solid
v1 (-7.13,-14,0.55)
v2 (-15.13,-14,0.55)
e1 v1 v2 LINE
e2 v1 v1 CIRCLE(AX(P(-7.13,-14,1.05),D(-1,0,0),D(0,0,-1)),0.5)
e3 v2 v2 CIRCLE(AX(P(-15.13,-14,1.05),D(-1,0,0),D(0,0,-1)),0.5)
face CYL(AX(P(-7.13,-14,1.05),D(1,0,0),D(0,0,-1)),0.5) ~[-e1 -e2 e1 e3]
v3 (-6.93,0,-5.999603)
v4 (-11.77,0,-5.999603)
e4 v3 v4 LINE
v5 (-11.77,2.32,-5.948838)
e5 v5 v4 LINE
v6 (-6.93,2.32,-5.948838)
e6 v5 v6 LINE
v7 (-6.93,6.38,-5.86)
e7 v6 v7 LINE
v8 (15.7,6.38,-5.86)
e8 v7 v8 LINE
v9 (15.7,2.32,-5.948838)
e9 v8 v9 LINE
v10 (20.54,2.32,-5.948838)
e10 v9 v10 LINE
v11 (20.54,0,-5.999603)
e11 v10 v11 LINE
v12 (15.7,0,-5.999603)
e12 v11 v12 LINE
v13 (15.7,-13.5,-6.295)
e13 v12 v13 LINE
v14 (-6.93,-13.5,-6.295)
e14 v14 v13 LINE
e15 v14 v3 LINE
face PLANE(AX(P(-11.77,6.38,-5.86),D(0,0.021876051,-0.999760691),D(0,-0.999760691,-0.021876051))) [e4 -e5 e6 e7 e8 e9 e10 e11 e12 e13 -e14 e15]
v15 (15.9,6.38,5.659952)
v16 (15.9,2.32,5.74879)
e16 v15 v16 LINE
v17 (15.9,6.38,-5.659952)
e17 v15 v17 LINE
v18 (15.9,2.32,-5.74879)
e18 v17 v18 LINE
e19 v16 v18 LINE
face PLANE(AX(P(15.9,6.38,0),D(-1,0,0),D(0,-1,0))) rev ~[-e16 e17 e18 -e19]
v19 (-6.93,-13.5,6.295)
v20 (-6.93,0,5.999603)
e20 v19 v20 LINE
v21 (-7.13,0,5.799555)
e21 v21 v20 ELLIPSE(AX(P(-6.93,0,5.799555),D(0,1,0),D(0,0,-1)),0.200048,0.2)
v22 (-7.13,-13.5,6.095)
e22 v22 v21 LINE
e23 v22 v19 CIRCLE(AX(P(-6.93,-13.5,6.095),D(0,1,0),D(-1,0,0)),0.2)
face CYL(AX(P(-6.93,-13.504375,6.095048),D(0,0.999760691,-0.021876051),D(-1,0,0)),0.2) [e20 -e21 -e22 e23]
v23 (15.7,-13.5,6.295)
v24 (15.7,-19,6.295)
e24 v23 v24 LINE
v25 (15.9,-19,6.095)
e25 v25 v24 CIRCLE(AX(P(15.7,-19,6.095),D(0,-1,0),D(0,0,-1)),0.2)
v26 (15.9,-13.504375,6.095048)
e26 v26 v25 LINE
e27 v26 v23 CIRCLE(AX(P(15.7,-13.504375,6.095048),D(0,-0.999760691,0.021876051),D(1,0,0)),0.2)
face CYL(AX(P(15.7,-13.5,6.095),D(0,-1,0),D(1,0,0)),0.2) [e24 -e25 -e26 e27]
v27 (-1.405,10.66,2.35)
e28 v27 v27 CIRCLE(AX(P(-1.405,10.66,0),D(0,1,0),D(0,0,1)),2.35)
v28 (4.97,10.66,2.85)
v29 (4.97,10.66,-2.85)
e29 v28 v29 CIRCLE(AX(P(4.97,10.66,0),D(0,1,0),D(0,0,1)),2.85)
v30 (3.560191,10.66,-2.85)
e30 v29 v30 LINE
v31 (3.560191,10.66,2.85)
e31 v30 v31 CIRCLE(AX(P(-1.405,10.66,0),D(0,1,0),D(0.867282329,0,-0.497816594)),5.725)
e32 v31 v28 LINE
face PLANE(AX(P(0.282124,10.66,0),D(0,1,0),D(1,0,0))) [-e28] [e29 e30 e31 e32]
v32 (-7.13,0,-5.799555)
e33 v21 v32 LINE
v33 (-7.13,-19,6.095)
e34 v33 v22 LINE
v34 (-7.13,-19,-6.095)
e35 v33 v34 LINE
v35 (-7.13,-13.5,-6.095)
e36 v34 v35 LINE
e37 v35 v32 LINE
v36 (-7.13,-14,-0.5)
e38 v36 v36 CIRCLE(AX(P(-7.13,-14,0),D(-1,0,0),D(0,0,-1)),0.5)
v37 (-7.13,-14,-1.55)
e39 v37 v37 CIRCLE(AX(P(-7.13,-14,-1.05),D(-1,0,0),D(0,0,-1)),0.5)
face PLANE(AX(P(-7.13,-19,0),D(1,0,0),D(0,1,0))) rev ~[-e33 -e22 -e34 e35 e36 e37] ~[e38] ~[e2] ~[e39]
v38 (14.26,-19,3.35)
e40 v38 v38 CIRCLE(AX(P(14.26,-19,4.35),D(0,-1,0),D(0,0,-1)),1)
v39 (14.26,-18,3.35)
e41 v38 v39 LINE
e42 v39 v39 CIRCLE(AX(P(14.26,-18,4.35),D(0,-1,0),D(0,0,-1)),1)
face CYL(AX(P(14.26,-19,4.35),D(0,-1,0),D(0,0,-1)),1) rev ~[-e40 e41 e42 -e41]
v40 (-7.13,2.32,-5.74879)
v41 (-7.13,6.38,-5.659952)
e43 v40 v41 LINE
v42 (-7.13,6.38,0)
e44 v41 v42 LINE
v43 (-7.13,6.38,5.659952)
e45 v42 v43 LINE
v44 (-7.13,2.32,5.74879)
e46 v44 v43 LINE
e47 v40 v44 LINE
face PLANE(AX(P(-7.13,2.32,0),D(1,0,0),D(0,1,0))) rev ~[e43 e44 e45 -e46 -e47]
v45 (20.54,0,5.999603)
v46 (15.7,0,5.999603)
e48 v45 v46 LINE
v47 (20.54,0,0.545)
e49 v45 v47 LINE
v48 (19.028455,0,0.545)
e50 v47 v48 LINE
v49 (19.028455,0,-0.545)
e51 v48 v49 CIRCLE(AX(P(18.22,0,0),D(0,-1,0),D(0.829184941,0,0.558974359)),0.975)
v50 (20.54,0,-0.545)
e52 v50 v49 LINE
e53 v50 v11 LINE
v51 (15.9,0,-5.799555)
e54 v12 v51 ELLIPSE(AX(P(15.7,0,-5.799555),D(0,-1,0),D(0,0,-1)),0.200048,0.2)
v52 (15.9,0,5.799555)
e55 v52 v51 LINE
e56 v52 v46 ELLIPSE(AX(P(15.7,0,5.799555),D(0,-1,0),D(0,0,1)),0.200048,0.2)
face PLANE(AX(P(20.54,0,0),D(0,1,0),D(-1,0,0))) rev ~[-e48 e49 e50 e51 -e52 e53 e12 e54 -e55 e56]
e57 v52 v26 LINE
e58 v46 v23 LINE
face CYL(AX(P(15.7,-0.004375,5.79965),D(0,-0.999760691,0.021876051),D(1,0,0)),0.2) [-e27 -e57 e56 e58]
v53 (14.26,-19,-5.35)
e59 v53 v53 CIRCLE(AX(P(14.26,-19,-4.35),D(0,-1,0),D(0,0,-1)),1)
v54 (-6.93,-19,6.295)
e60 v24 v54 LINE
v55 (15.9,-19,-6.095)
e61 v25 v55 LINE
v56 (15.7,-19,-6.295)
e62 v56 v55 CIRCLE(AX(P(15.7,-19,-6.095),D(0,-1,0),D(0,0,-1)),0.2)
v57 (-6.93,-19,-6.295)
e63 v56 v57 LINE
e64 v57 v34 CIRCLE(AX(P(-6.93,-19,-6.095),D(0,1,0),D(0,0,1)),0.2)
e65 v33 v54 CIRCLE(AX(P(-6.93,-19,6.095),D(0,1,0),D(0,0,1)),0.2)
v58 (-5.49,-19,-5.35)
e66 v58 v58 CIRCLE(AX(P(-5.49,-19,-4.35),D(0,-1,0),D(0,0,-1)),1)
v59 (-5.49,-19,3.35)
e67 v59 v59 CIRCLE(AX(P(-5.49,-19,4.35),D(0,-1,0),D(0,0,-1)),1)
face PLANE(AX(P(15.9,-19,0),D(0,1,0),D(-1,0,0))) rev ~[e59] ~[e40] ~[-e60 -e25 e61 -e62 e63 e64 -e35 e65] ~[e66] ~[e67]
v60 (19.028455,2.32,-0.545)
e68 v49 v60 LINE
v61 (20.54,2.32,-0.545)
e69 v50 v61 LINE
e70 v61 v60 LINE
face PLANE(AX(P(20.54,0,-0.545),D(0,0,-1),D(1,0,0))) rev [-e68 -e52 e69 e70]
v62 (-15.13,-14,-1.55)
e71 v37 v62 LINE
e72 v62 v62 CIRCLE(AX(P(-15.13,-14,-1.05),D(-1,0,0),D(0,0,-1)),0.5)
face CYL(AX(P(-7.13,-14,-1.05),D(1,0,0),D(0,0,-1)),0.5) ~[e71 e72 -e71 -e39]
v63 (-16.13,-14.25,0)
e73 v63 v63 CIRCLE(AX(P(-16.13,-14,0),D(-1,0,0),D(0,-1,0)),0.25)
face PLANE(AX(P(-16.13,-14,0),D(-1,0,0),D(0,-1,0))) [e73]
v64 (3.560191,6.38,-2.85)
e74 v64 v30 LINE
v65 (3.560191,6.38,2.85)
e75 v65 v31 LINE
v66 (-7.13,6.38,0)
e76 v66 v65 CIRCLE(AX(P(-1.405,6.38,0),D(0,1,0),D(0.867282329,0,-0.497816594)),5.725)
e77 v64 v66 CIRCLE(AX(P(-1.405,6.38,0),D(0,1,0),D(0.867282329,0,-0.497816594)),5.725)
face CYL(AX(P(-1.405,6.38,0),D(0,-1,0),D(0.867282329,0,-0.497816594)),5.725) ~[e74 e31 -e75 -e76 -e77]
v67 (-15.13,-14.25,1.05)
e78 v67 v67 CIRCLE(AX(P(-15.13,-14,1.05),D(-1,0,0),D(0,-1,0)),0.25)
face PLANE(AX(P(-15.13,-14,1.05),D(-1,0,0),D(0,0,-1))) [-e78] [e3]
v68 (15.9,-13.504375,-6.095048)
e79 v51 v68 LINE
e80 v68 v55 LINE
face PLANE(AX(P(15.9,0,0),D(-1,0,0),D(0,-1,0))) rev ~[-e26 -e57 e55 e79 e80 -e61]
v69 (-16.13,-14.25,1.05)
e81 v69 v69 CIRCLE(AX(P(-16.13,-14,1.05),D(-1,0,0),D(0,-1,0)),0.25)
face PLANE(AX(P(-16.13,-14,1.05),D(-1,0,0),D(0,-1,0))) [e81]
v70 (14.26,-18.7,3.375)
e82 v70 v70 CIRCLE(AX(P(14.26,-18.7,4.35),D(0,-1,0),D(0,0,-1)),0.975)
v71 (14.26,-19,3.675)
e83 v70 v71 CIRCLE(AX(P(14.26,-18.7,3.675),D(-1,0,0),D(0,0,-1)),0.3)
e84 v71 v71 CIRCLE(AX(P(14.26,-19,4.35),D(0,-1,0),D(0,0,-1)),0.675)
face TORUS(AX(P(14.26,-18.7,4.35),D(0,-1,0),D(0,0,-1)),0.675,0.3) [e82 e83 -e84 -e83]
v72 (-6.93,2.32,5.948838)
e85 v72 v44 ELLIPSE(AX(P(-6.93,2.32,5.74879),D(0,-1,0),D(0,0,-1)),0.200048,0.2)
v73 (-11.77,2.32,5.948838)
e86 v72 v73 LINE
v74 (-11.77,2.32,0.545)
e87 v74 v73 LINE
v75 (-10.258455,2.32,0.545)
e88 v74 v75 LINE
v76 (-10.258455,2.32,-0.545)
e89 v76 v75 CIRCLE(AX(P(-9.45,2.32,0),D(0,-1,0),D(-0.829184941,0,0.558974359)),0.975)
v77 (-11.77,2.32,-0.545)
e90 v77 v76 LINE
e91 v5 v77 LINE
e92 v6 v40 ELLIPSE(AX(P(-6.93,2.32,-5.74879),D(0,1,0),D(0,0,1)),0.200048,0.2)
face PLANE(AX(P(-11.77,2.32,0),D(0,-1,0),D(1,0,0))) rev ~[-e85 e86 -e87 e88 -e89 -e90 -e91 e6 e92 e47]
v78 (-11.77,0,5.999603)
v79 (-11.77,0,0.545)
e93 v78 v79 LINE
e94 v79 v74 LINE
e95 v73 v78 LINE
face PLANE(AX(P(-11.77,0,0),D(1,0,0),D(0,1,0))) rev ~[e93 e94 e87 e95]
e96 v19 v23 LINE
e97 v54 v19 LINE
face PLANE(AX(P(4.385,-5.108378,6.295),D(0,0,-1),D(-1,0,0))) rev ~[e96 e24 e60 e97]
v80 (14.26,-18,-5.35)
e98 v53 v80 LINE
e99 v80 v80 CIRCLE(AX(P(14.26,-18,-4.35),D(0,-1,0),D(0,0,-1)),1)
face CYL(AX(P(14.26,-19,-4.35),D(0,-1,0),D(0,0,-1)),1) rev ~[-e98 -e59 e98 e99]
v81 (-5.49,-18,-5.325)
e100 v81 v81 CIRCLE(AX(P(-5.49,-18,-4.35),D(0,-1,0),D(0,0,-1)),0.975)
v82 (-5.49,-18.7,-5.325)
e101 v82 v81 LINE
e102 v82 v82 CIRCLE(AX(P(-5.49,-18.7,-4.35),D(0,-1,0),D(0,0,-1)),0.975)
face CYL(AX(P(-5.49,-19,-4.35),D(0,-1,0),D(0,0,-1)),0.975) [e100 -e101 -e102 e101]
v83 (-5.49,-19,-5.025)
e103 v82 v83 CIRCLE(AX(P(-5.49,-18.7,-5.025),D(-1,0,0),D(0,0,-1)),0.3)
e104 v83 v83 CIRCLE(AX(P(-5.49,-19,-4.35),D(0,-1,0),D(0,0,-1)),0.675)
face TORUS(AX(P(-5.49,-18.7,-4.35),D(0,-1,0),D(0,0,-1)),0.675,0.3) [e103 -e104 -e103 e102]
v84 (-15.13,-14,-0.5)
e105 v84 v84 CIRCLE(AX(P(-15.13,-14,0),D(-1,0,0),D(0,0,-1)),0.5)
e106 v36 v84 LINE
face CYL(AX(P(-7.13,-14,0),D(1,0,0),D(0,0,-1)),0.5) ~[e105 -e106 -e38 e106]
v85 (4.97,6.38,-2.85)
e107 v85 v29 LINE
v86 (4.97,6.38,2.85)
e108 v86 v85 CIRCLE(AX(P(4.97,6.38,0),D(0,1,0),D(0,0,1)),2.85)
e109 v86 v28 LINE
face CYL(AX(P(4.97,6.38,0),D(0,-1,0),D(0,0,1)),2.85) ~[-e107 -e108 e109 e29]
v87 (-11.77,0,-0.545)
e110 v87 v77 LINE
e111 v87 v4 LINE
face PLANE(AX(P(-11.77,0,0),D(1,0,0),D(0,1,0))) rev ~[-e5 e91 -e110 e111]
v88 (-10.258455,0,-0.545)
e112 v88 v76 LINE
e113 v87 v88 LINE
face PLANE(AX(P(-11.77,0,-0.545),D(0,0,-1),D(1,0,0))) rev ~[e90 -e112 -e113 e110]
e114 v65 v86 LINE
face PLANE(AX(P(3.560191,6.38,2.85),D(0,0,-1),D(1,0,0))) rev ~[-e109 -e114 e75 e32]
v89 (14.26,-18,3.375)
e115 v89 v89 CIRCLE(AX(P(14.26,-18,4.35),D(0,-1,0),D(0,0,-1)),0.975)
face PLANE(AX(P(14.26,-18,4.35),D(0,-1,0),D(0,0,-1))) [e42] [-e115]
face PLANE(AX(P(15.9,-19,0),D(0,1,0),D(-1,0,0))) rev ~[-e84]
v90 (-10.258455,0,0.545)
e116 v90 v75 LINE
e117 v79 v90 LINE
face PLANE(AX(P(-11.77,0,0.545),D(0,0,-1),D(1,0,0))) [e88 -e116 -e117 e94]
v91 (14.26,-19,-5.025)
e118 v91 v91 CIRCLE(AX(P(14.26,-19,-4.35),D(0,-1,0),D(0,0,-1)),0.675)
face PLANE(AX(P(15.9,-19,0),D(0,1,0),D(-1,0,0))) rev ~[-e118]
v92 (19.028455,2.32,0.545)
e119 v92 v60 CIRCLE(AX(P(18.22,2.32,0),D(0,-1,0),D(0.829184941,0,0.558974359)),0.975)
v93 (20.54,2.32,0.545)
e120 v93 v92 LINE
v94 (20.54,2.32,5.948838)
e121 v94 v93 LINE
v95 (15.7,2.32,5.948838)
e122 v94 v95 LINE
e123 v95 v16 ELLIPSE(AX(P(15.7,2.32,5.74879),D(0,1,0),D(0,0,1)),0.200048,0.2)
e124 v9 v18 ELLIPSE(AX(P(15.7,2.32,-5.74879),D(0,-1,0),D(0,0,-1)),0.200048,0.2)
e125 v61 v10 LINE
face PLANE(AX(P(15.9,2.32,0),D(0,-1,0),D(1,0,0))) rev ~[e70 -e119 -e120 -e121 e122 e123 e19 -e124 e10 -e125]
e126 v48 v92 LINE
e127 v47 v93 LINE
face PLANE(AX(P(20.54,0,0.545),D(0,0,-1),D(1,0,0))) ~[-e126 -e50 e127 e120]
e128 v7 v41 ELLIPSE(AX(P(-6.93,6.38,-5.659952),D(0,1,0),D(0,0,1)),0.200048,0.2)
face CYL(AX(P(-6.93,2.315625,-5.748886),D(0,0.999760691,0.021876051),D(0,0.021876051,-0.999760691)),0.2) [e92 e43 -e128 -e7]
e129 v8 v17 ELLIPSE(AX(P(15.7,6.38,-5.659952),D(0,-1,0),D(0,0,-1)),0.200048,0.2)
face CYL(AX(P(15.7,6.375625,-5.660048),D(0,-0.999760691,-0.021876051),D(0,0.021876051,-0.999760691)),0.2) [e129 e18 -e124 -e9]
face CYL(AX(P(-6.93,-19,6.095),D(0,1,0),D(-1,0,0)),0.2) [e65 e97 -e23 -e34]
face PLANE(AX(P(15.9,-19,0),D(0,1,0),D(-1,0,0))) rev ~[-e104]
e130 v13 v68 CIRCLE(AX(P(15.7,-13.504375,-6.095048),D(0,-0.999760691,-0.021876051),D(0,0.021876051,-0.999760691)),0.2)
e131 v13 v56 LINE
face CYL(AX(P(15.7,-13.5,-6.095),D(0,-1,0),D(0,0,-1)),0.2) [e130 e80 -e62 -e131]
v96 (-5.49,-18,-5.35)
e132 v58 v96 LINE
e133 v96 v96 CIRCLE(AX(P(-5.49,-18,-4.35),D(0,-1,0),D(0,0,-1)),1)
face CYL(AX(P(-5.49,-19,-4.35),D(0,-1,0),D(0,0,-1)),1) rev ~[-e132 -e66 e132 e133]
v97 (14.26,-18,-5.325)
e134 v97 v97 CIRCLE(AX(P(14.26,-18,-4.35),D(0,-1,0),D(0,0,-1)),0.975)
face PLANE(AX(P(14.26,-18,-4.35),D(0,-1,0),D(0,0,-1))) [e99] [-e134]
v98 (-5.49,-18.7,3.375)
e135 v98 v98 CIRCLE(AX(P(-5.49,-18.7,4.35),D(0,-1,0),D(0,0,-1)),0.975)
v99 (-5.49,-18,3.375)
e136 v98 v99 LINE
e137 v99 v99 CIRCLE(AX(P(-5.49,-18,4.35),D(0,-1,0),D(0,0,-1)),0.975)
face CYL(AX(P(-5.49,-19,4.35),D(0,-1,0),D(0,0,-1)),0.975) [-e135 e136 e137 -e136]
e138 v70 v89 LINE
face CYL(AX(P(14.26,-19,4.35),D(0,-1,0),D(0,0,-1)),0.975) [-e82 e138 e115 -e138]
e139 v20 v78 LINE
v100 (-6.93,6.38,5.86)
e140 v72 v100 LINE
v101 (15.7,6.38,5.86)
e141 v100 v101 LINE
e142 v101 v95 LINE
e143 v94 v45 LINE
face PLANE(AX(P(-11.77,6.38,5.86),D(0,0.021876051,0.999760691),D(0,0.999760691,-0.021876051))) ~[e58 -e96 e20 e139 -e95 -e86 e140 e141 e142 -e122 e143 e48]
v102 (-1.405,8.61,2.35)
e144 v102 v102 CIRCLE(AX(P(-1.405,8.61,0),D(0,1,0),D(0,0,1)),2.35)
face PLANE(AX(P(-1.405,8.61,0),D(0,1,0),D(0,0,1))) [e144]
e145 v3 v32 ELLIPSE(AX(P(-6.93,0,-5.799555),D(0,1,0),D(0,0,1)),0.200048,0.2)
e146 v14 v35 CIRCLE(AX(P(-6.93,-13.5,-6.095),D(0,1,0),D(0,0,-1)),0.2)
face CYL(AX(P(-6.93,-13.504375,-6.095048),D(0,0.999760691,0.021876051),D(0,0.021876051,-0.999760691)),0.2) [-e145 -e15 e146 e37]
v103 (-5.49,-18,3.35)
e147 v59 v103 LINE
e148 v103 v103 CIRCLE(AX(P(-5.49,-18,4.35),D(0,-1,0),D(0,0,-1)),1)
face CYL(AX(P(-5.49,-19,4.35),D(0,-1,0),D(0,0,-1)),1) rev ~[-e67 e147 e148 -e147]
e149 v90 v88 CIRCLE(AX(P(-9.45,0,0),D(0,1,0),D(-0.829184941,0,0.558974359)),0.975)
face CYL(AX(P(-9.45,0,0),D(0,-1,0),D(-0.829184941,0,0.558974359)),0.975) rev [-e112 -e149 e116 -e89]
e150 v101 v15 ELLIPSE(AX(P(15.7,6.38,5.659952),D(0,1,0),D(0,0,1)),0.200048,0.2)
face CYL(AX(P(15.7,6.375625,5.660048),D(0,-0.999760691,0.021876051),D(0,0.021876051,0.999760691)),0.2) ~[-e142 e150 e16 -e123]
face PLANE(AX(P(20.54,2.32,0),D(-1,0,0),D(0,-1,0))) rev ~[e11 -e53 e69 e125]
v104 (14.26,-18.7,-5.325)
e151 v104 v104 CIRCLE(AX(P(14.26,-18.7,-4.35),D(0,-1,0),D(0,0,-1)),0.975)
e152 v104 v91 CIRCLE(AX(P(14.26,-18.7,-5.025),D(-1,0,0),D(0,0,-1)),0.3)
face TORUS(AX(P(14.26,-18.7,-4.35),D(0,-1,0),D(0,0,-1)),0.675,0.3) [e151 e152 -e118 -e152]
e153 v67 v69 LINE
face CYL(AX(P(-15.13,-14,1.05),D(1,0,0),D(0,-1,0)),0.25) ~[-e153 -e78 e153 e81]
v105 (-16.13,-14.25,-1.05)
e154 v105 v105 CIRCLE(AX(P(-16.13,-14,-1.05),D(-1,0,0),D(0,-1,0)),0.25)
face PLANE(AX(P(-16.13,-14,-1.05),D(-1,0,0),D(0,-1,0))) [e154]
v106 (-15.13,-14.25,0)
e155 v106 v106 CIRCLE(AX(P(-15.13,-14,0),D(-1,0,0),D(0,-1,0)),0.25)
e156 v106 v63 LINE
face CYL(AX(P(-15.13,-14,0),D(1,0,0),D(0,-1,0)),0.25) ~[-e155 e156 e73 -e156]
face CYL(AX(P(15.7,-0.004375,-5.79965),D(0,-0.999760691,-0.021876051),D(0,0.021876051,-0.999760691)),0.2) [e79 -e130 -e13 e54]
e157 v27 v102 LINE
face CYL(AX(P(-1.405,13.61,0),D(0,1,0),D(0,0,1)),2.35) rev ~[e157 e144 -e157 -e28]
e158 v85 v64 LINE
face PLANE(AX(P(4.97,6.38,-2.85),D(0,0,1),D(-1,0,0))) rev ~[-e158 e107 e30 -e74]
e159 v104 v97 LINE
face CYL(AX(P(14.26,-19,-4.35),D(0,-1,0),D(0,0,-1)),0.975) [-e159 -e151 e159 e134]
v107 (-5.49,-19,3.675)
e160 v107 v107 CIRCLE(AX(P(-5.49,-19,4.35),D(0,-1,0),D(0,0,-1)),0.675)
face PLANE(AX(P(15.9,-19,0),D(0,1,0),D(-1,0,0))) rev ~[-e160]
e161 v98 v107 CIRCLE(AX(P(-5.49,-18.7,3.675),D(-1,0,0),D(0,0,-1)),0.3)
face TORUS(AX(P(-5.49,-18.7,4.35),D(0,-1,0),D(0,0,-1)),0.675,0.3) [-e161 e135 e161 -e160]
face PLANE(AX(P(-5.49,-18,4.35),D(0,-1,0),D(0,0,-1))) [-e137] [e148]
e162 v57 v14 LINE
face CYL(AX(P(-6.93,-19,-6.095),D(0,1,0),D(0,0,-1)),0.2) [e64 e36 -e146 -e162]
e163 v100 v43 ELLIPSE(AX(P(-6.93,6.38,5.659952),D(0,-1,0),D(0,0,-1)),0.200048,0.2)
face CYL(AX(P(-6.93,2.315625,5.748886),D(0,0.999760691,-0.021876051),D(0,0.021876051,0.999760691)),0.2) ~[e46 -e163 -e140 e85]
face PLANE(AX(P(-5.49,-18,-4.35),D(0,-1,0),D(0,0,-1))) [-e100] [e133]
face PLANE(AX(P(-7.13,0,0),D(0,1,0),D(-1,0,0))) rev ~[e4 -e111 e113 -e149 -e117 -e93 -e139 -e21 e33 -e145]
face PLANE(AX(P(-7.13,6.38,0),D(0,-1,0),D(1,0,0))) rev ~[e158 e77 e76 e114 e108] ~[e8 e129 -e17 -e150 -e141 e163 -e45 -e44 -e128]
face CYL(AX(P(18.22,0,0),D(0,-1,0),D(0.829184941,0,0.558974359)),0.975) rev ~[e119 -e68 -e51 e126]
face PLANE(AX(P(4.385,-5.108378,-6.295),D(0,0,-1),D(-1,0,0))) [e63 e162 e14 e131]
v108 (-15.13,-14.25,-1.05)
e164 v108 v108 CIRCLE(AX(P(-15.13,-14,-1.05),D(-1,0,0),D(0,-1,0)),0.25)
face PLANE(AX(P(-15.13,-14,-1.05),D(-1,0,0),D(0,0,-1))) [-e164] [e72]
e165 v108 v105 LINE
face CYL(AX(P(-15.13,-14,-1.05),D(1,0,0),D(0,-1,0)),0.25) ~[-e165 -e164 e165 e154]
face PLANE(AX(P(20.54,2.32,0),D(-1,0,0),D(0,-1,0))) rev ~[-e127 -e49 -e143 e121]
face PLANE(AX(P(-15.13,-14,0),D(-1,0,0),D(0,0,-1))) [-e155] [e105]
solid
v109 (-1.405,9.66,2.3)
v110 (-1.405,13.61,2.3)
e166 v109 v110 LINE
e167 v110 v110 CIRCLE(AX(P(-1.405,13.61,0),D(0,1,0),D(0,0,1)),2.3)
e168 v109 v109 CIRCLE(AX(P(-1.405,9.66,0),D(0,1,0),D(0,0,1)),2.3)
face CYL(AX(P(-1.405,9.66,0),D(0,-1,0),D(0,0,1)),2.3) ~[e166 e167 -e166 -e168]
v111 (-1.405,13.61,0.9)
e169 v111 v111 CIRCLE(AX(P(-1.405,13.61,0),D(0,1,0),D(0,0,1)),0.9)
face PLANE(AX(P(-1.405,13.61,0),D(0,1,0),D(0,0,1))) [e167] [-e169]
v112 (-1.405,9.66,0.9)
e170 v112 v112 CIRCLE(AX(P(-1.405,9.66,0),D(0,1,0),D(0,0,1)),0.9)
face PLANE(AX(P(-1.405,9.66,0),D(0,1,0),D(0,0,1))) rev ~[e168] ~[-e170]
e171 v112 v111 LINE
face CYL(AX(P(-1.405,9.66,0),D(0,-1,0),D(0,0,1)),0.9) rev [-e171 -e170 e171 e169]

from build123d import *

# Parameters (mm, degrees)
BOSS_EXTRUDE1_DEPTH      = 6.295
BOSS_EXTRUDE2_DEPTH      = 4.28
CUT_EXTRUDE4_DEPTH       = 39.007408817
SKETCH4_R                = 0.975
SKETCH4_W                = 1.511544683
SKETCH4_H                = 1.09
CUT_EXTRUDE1_DEPTH       = 29.67958551
SKETCH5_R                = 1
SKETCH5_R_2              = 0.975
CUT_EXTRUDE2_DEPTH       = 1
SKETCH6_R                = 0.5
BOSS_EXTRUDE4_DEPTH      = 8
SKETCH7_R                = 0.25
BOSS_EXTRUDE5_DEPTH      = 1
FILLET1_R                = 0.3
FILLET3_R                = 0.2
BOSS_EXTRUDE6_DEPTH      = 2.95
BOSS_EXTRUDE6_DEPTH_BACK = 1
SKETCH12_R               = 2.3
SKETCH12_R_2             = 0.9
SKETCH13_R               = 2.35
CUT_EXTRUDE5_DEPTH       = 5


with BuildPart() as part:
    # Sketch1 → Boss-Extrude1 (new, symmetric)
    with BuildSketch(Plane.XY):
        Polygon((-7.13, 6.38), (15.9, 6.38), (15.9, 2.32), (20.54, 2.32), (20.54, 0), (15.9, 0), (15.9, -19), (-7.13, -19), (-7.13, 0), (-11.77, 0), (-11.77, 2.32), (-7.13, 2.32), align=None)
    extrude(amount=BOSS_EXTRUDE1_DEPTH, both=True)

    # Sketch2 → Boss-Extrude2 (add)
    with BuildSketch(Plane(origin=(0, 6.38, 0), x_dir=(1, 0, 0), z_dir=(0, 1, 0))):
        with BuildLine():
            Line((3.560191336, -2.85), (4.97, -2.85))
            ThreePointArc((4.97, -2.85), (7.82, 0), (4.97, 2.85))
            Line((4.97, 2.85), (3.560191336, 2.85))
            ThreePointArc((3.560191336, 2.85), (-7.13, 0), (3.560191336, -2.85))
        make_face()
    extrude(amount=BOSS_EXTRUDE2_DEPTH)

    # Sketch11 → Cut-Extrude4 (cut, through all)
    with BuildSketch(Plane.ZY.offset(11.77)):
        Polygon((-5.86, 6.38), (-6.295, -13.5), (-6.295, 6.38), align=None)
    cut_extrude4 = extrude(amount=-CUT_EXTRUDE4_DEPTH, mode=Mode.SUBTRACT)

    # Mirror1: Cut-Extrude4 across plane
    add(cut_extrude4.mirror(Plane.XY), mode=Mode.SUBTRACT)

    # Sketch4 → Cut-Extrude1 (cut, through all)
    with BuildSketch(Plane(origin=(0, 0, 0), x_dir=(1, 0, 0), z_dir=(0, 1, 0))):
        with Locations((-9.45, 0)):
            Circle(SKETCH4_R)
        with Locations((-11.014227659, 0)):
            Rectangle(SKETCH4_W, SKETCH4_H)
    cut_extrude1 = extrude(amount=CUT_EXTRUDE1_DEPTH, mode=Mode.SUBTRACT)

    # Mirror2: Cut-Extrude1 across plane
    add(cut_extrude1.mirror(Plane(origin=(4.385, -13.5, 6.295), x_dir=(0, 0, 1), z_dir=(-1, 0, 0))), mode=Mode.SUBTRACT)

    # Sketch5 → Cut-Extrude2 (cut)
    # profile 1 of 4: a face of its own
    with BuildSketch(Plane.XZ.offset(19)):
        with Locations((-5.49, 4.35)):
            Circle(SKETCH5_R)
        with Locations((-5.49, 4.35)):
            Circle(SKETCH5_R_2, mode=Mode.SUBTRACT)
    # profile 2 of 4: a face of its own
    with BuildSketch(Plane.XZ.offset(19)):
        with Locations((-5.49, -4.35)):
            Circle(SKETCH5_R)
        with Locations((-5.49, -4.35)):
            Circle(SKETCH5_R_2, mode=Mode.SUBTRACT)
    # profile 3 of 4: a face of its own
    with BuildSketch(Plane.XZ.offset(19)):
        with Locations((14.26, -4.35)):
            Circle(SKETCH5_R)
        with Locations((14.26, -4.35)):
            Circle(SKETCH5_R_2, mode=Mode.SUBTRACT)
    # profile 4 of 4: a face of its own
    with BuildSketch(Plane.XZ.offset(19)):
        with Locations((14.26, 4.35)):
            Circle(SKETCH5_R)
        with Locations((14.26, 4.35)):
            Circle(SKETCH5_R_2, mode=Mode.SUBTRACT)
    extrude(amount=-CUT_EXTRUDE2_DEPTH, mode=Mode.SUBTRACT)

    # Sketch6 → Boss-Extrude4 (add)
    with BuildSketch(Plane.ZY.offset(7.13)):
        with Locations((0, -14)):
            Circle(SKETCH6_R)
        with Locations((1.05, -14)):
            Circle(SKETCH6_R)
        with Locations((-1.05, -14)):
            Circle(SKETCH6_R)
    extrude(amount=BOSS_EXTRUDE4_DEPTH)

    # Sketch7 → Boss-Extrude5 (add)
    with BuildSketch(Plane.ZY.offset(15.13)):
        with Locations((0, -14)):
            Circle(SKETCH7_R)
        with Locations((1.05, -14)):
            Circle(SKETCH7_R)
        with Locations((-1.05, -14)):
            Circle(SKETCH7_R)
    extrude(amount=BOSS_EXTRUDE5_DEPTH)

    # Fillet1
    fillet1_edges = [part.edges().sort_by_distance(p)[0] for p in [
        (13.285, -19, -4.35),
        (13.285, -19, 4.35),
        (-6.465, -19, -4.35),
        (-6.465, -19, 4.35),
    ]]
    fillet(fillet1_edges, radius=FILLET1_R)

    # Fillet3
    fillet3_edges = [part.edges().sort_by_distance(p)[0] for p in [
        (15.9, -16.25, -6.295),
        (15.9, -16.25, 6.295),
        (-7.13, -16.25, -6.295),
        (-7.13, -16.25, 6.295),
        (-7.13, -6.75, 6.147301308),
        (-7.13, -6.75, -6.147301308),
        (15.9, -6.75, 6.147301308),
        (15.9, -6.75, -6.147301308),
        (15.9, 4.35, -5.904419014),
        (15.9, 4.35, 5.904419014),
        (-7.13, 4.35, -5.904419014),
        (-7.13, 4.35, 5.904419014),
    ]]
    fillet(fillet3_edges, radius=FILLET3_R)

    # Sketch13 → Cut-Extrude5 (cut)
    with BuildSketch(Plane(origin=(0, 13.61, 0), x_dir=(1, 0, 0), z_dir=(0, 1, 0))):
        with Locations((-1.405, 0)):
            Circle(SKETCH13_R)
    extrude(amount=-CUT_EXTRUDE5_DEPTH, mode=Mode.SUBTRACT)


with BuildPart() as body_2:
    # Sketch12 → Boss-Extrude6 (new, two sides: drawn at the far end of the back side and taken through both)
    with BuildSketch(Plane(origin=(0, 10.66, 0), x_dir=(1, 0, 0), z_dir=(0, 1, 0)).offset(-BOSS_EXTRUDE6_DEPTH_BACK)):
        with Locations((-1.405, 0)):
            Circle(SKETCH12_R)
        with Locations((-1.405, 0)):
            Circle(SKETCH12_R_2, mode=Mode.SUBTRACT)
    extrude(amount=BOSS_EXTRUDE6_DEPTH + BOSS_EXTRUDE6_DEPTH_BACK)


solid = Compound([part.part, body_2.part])
